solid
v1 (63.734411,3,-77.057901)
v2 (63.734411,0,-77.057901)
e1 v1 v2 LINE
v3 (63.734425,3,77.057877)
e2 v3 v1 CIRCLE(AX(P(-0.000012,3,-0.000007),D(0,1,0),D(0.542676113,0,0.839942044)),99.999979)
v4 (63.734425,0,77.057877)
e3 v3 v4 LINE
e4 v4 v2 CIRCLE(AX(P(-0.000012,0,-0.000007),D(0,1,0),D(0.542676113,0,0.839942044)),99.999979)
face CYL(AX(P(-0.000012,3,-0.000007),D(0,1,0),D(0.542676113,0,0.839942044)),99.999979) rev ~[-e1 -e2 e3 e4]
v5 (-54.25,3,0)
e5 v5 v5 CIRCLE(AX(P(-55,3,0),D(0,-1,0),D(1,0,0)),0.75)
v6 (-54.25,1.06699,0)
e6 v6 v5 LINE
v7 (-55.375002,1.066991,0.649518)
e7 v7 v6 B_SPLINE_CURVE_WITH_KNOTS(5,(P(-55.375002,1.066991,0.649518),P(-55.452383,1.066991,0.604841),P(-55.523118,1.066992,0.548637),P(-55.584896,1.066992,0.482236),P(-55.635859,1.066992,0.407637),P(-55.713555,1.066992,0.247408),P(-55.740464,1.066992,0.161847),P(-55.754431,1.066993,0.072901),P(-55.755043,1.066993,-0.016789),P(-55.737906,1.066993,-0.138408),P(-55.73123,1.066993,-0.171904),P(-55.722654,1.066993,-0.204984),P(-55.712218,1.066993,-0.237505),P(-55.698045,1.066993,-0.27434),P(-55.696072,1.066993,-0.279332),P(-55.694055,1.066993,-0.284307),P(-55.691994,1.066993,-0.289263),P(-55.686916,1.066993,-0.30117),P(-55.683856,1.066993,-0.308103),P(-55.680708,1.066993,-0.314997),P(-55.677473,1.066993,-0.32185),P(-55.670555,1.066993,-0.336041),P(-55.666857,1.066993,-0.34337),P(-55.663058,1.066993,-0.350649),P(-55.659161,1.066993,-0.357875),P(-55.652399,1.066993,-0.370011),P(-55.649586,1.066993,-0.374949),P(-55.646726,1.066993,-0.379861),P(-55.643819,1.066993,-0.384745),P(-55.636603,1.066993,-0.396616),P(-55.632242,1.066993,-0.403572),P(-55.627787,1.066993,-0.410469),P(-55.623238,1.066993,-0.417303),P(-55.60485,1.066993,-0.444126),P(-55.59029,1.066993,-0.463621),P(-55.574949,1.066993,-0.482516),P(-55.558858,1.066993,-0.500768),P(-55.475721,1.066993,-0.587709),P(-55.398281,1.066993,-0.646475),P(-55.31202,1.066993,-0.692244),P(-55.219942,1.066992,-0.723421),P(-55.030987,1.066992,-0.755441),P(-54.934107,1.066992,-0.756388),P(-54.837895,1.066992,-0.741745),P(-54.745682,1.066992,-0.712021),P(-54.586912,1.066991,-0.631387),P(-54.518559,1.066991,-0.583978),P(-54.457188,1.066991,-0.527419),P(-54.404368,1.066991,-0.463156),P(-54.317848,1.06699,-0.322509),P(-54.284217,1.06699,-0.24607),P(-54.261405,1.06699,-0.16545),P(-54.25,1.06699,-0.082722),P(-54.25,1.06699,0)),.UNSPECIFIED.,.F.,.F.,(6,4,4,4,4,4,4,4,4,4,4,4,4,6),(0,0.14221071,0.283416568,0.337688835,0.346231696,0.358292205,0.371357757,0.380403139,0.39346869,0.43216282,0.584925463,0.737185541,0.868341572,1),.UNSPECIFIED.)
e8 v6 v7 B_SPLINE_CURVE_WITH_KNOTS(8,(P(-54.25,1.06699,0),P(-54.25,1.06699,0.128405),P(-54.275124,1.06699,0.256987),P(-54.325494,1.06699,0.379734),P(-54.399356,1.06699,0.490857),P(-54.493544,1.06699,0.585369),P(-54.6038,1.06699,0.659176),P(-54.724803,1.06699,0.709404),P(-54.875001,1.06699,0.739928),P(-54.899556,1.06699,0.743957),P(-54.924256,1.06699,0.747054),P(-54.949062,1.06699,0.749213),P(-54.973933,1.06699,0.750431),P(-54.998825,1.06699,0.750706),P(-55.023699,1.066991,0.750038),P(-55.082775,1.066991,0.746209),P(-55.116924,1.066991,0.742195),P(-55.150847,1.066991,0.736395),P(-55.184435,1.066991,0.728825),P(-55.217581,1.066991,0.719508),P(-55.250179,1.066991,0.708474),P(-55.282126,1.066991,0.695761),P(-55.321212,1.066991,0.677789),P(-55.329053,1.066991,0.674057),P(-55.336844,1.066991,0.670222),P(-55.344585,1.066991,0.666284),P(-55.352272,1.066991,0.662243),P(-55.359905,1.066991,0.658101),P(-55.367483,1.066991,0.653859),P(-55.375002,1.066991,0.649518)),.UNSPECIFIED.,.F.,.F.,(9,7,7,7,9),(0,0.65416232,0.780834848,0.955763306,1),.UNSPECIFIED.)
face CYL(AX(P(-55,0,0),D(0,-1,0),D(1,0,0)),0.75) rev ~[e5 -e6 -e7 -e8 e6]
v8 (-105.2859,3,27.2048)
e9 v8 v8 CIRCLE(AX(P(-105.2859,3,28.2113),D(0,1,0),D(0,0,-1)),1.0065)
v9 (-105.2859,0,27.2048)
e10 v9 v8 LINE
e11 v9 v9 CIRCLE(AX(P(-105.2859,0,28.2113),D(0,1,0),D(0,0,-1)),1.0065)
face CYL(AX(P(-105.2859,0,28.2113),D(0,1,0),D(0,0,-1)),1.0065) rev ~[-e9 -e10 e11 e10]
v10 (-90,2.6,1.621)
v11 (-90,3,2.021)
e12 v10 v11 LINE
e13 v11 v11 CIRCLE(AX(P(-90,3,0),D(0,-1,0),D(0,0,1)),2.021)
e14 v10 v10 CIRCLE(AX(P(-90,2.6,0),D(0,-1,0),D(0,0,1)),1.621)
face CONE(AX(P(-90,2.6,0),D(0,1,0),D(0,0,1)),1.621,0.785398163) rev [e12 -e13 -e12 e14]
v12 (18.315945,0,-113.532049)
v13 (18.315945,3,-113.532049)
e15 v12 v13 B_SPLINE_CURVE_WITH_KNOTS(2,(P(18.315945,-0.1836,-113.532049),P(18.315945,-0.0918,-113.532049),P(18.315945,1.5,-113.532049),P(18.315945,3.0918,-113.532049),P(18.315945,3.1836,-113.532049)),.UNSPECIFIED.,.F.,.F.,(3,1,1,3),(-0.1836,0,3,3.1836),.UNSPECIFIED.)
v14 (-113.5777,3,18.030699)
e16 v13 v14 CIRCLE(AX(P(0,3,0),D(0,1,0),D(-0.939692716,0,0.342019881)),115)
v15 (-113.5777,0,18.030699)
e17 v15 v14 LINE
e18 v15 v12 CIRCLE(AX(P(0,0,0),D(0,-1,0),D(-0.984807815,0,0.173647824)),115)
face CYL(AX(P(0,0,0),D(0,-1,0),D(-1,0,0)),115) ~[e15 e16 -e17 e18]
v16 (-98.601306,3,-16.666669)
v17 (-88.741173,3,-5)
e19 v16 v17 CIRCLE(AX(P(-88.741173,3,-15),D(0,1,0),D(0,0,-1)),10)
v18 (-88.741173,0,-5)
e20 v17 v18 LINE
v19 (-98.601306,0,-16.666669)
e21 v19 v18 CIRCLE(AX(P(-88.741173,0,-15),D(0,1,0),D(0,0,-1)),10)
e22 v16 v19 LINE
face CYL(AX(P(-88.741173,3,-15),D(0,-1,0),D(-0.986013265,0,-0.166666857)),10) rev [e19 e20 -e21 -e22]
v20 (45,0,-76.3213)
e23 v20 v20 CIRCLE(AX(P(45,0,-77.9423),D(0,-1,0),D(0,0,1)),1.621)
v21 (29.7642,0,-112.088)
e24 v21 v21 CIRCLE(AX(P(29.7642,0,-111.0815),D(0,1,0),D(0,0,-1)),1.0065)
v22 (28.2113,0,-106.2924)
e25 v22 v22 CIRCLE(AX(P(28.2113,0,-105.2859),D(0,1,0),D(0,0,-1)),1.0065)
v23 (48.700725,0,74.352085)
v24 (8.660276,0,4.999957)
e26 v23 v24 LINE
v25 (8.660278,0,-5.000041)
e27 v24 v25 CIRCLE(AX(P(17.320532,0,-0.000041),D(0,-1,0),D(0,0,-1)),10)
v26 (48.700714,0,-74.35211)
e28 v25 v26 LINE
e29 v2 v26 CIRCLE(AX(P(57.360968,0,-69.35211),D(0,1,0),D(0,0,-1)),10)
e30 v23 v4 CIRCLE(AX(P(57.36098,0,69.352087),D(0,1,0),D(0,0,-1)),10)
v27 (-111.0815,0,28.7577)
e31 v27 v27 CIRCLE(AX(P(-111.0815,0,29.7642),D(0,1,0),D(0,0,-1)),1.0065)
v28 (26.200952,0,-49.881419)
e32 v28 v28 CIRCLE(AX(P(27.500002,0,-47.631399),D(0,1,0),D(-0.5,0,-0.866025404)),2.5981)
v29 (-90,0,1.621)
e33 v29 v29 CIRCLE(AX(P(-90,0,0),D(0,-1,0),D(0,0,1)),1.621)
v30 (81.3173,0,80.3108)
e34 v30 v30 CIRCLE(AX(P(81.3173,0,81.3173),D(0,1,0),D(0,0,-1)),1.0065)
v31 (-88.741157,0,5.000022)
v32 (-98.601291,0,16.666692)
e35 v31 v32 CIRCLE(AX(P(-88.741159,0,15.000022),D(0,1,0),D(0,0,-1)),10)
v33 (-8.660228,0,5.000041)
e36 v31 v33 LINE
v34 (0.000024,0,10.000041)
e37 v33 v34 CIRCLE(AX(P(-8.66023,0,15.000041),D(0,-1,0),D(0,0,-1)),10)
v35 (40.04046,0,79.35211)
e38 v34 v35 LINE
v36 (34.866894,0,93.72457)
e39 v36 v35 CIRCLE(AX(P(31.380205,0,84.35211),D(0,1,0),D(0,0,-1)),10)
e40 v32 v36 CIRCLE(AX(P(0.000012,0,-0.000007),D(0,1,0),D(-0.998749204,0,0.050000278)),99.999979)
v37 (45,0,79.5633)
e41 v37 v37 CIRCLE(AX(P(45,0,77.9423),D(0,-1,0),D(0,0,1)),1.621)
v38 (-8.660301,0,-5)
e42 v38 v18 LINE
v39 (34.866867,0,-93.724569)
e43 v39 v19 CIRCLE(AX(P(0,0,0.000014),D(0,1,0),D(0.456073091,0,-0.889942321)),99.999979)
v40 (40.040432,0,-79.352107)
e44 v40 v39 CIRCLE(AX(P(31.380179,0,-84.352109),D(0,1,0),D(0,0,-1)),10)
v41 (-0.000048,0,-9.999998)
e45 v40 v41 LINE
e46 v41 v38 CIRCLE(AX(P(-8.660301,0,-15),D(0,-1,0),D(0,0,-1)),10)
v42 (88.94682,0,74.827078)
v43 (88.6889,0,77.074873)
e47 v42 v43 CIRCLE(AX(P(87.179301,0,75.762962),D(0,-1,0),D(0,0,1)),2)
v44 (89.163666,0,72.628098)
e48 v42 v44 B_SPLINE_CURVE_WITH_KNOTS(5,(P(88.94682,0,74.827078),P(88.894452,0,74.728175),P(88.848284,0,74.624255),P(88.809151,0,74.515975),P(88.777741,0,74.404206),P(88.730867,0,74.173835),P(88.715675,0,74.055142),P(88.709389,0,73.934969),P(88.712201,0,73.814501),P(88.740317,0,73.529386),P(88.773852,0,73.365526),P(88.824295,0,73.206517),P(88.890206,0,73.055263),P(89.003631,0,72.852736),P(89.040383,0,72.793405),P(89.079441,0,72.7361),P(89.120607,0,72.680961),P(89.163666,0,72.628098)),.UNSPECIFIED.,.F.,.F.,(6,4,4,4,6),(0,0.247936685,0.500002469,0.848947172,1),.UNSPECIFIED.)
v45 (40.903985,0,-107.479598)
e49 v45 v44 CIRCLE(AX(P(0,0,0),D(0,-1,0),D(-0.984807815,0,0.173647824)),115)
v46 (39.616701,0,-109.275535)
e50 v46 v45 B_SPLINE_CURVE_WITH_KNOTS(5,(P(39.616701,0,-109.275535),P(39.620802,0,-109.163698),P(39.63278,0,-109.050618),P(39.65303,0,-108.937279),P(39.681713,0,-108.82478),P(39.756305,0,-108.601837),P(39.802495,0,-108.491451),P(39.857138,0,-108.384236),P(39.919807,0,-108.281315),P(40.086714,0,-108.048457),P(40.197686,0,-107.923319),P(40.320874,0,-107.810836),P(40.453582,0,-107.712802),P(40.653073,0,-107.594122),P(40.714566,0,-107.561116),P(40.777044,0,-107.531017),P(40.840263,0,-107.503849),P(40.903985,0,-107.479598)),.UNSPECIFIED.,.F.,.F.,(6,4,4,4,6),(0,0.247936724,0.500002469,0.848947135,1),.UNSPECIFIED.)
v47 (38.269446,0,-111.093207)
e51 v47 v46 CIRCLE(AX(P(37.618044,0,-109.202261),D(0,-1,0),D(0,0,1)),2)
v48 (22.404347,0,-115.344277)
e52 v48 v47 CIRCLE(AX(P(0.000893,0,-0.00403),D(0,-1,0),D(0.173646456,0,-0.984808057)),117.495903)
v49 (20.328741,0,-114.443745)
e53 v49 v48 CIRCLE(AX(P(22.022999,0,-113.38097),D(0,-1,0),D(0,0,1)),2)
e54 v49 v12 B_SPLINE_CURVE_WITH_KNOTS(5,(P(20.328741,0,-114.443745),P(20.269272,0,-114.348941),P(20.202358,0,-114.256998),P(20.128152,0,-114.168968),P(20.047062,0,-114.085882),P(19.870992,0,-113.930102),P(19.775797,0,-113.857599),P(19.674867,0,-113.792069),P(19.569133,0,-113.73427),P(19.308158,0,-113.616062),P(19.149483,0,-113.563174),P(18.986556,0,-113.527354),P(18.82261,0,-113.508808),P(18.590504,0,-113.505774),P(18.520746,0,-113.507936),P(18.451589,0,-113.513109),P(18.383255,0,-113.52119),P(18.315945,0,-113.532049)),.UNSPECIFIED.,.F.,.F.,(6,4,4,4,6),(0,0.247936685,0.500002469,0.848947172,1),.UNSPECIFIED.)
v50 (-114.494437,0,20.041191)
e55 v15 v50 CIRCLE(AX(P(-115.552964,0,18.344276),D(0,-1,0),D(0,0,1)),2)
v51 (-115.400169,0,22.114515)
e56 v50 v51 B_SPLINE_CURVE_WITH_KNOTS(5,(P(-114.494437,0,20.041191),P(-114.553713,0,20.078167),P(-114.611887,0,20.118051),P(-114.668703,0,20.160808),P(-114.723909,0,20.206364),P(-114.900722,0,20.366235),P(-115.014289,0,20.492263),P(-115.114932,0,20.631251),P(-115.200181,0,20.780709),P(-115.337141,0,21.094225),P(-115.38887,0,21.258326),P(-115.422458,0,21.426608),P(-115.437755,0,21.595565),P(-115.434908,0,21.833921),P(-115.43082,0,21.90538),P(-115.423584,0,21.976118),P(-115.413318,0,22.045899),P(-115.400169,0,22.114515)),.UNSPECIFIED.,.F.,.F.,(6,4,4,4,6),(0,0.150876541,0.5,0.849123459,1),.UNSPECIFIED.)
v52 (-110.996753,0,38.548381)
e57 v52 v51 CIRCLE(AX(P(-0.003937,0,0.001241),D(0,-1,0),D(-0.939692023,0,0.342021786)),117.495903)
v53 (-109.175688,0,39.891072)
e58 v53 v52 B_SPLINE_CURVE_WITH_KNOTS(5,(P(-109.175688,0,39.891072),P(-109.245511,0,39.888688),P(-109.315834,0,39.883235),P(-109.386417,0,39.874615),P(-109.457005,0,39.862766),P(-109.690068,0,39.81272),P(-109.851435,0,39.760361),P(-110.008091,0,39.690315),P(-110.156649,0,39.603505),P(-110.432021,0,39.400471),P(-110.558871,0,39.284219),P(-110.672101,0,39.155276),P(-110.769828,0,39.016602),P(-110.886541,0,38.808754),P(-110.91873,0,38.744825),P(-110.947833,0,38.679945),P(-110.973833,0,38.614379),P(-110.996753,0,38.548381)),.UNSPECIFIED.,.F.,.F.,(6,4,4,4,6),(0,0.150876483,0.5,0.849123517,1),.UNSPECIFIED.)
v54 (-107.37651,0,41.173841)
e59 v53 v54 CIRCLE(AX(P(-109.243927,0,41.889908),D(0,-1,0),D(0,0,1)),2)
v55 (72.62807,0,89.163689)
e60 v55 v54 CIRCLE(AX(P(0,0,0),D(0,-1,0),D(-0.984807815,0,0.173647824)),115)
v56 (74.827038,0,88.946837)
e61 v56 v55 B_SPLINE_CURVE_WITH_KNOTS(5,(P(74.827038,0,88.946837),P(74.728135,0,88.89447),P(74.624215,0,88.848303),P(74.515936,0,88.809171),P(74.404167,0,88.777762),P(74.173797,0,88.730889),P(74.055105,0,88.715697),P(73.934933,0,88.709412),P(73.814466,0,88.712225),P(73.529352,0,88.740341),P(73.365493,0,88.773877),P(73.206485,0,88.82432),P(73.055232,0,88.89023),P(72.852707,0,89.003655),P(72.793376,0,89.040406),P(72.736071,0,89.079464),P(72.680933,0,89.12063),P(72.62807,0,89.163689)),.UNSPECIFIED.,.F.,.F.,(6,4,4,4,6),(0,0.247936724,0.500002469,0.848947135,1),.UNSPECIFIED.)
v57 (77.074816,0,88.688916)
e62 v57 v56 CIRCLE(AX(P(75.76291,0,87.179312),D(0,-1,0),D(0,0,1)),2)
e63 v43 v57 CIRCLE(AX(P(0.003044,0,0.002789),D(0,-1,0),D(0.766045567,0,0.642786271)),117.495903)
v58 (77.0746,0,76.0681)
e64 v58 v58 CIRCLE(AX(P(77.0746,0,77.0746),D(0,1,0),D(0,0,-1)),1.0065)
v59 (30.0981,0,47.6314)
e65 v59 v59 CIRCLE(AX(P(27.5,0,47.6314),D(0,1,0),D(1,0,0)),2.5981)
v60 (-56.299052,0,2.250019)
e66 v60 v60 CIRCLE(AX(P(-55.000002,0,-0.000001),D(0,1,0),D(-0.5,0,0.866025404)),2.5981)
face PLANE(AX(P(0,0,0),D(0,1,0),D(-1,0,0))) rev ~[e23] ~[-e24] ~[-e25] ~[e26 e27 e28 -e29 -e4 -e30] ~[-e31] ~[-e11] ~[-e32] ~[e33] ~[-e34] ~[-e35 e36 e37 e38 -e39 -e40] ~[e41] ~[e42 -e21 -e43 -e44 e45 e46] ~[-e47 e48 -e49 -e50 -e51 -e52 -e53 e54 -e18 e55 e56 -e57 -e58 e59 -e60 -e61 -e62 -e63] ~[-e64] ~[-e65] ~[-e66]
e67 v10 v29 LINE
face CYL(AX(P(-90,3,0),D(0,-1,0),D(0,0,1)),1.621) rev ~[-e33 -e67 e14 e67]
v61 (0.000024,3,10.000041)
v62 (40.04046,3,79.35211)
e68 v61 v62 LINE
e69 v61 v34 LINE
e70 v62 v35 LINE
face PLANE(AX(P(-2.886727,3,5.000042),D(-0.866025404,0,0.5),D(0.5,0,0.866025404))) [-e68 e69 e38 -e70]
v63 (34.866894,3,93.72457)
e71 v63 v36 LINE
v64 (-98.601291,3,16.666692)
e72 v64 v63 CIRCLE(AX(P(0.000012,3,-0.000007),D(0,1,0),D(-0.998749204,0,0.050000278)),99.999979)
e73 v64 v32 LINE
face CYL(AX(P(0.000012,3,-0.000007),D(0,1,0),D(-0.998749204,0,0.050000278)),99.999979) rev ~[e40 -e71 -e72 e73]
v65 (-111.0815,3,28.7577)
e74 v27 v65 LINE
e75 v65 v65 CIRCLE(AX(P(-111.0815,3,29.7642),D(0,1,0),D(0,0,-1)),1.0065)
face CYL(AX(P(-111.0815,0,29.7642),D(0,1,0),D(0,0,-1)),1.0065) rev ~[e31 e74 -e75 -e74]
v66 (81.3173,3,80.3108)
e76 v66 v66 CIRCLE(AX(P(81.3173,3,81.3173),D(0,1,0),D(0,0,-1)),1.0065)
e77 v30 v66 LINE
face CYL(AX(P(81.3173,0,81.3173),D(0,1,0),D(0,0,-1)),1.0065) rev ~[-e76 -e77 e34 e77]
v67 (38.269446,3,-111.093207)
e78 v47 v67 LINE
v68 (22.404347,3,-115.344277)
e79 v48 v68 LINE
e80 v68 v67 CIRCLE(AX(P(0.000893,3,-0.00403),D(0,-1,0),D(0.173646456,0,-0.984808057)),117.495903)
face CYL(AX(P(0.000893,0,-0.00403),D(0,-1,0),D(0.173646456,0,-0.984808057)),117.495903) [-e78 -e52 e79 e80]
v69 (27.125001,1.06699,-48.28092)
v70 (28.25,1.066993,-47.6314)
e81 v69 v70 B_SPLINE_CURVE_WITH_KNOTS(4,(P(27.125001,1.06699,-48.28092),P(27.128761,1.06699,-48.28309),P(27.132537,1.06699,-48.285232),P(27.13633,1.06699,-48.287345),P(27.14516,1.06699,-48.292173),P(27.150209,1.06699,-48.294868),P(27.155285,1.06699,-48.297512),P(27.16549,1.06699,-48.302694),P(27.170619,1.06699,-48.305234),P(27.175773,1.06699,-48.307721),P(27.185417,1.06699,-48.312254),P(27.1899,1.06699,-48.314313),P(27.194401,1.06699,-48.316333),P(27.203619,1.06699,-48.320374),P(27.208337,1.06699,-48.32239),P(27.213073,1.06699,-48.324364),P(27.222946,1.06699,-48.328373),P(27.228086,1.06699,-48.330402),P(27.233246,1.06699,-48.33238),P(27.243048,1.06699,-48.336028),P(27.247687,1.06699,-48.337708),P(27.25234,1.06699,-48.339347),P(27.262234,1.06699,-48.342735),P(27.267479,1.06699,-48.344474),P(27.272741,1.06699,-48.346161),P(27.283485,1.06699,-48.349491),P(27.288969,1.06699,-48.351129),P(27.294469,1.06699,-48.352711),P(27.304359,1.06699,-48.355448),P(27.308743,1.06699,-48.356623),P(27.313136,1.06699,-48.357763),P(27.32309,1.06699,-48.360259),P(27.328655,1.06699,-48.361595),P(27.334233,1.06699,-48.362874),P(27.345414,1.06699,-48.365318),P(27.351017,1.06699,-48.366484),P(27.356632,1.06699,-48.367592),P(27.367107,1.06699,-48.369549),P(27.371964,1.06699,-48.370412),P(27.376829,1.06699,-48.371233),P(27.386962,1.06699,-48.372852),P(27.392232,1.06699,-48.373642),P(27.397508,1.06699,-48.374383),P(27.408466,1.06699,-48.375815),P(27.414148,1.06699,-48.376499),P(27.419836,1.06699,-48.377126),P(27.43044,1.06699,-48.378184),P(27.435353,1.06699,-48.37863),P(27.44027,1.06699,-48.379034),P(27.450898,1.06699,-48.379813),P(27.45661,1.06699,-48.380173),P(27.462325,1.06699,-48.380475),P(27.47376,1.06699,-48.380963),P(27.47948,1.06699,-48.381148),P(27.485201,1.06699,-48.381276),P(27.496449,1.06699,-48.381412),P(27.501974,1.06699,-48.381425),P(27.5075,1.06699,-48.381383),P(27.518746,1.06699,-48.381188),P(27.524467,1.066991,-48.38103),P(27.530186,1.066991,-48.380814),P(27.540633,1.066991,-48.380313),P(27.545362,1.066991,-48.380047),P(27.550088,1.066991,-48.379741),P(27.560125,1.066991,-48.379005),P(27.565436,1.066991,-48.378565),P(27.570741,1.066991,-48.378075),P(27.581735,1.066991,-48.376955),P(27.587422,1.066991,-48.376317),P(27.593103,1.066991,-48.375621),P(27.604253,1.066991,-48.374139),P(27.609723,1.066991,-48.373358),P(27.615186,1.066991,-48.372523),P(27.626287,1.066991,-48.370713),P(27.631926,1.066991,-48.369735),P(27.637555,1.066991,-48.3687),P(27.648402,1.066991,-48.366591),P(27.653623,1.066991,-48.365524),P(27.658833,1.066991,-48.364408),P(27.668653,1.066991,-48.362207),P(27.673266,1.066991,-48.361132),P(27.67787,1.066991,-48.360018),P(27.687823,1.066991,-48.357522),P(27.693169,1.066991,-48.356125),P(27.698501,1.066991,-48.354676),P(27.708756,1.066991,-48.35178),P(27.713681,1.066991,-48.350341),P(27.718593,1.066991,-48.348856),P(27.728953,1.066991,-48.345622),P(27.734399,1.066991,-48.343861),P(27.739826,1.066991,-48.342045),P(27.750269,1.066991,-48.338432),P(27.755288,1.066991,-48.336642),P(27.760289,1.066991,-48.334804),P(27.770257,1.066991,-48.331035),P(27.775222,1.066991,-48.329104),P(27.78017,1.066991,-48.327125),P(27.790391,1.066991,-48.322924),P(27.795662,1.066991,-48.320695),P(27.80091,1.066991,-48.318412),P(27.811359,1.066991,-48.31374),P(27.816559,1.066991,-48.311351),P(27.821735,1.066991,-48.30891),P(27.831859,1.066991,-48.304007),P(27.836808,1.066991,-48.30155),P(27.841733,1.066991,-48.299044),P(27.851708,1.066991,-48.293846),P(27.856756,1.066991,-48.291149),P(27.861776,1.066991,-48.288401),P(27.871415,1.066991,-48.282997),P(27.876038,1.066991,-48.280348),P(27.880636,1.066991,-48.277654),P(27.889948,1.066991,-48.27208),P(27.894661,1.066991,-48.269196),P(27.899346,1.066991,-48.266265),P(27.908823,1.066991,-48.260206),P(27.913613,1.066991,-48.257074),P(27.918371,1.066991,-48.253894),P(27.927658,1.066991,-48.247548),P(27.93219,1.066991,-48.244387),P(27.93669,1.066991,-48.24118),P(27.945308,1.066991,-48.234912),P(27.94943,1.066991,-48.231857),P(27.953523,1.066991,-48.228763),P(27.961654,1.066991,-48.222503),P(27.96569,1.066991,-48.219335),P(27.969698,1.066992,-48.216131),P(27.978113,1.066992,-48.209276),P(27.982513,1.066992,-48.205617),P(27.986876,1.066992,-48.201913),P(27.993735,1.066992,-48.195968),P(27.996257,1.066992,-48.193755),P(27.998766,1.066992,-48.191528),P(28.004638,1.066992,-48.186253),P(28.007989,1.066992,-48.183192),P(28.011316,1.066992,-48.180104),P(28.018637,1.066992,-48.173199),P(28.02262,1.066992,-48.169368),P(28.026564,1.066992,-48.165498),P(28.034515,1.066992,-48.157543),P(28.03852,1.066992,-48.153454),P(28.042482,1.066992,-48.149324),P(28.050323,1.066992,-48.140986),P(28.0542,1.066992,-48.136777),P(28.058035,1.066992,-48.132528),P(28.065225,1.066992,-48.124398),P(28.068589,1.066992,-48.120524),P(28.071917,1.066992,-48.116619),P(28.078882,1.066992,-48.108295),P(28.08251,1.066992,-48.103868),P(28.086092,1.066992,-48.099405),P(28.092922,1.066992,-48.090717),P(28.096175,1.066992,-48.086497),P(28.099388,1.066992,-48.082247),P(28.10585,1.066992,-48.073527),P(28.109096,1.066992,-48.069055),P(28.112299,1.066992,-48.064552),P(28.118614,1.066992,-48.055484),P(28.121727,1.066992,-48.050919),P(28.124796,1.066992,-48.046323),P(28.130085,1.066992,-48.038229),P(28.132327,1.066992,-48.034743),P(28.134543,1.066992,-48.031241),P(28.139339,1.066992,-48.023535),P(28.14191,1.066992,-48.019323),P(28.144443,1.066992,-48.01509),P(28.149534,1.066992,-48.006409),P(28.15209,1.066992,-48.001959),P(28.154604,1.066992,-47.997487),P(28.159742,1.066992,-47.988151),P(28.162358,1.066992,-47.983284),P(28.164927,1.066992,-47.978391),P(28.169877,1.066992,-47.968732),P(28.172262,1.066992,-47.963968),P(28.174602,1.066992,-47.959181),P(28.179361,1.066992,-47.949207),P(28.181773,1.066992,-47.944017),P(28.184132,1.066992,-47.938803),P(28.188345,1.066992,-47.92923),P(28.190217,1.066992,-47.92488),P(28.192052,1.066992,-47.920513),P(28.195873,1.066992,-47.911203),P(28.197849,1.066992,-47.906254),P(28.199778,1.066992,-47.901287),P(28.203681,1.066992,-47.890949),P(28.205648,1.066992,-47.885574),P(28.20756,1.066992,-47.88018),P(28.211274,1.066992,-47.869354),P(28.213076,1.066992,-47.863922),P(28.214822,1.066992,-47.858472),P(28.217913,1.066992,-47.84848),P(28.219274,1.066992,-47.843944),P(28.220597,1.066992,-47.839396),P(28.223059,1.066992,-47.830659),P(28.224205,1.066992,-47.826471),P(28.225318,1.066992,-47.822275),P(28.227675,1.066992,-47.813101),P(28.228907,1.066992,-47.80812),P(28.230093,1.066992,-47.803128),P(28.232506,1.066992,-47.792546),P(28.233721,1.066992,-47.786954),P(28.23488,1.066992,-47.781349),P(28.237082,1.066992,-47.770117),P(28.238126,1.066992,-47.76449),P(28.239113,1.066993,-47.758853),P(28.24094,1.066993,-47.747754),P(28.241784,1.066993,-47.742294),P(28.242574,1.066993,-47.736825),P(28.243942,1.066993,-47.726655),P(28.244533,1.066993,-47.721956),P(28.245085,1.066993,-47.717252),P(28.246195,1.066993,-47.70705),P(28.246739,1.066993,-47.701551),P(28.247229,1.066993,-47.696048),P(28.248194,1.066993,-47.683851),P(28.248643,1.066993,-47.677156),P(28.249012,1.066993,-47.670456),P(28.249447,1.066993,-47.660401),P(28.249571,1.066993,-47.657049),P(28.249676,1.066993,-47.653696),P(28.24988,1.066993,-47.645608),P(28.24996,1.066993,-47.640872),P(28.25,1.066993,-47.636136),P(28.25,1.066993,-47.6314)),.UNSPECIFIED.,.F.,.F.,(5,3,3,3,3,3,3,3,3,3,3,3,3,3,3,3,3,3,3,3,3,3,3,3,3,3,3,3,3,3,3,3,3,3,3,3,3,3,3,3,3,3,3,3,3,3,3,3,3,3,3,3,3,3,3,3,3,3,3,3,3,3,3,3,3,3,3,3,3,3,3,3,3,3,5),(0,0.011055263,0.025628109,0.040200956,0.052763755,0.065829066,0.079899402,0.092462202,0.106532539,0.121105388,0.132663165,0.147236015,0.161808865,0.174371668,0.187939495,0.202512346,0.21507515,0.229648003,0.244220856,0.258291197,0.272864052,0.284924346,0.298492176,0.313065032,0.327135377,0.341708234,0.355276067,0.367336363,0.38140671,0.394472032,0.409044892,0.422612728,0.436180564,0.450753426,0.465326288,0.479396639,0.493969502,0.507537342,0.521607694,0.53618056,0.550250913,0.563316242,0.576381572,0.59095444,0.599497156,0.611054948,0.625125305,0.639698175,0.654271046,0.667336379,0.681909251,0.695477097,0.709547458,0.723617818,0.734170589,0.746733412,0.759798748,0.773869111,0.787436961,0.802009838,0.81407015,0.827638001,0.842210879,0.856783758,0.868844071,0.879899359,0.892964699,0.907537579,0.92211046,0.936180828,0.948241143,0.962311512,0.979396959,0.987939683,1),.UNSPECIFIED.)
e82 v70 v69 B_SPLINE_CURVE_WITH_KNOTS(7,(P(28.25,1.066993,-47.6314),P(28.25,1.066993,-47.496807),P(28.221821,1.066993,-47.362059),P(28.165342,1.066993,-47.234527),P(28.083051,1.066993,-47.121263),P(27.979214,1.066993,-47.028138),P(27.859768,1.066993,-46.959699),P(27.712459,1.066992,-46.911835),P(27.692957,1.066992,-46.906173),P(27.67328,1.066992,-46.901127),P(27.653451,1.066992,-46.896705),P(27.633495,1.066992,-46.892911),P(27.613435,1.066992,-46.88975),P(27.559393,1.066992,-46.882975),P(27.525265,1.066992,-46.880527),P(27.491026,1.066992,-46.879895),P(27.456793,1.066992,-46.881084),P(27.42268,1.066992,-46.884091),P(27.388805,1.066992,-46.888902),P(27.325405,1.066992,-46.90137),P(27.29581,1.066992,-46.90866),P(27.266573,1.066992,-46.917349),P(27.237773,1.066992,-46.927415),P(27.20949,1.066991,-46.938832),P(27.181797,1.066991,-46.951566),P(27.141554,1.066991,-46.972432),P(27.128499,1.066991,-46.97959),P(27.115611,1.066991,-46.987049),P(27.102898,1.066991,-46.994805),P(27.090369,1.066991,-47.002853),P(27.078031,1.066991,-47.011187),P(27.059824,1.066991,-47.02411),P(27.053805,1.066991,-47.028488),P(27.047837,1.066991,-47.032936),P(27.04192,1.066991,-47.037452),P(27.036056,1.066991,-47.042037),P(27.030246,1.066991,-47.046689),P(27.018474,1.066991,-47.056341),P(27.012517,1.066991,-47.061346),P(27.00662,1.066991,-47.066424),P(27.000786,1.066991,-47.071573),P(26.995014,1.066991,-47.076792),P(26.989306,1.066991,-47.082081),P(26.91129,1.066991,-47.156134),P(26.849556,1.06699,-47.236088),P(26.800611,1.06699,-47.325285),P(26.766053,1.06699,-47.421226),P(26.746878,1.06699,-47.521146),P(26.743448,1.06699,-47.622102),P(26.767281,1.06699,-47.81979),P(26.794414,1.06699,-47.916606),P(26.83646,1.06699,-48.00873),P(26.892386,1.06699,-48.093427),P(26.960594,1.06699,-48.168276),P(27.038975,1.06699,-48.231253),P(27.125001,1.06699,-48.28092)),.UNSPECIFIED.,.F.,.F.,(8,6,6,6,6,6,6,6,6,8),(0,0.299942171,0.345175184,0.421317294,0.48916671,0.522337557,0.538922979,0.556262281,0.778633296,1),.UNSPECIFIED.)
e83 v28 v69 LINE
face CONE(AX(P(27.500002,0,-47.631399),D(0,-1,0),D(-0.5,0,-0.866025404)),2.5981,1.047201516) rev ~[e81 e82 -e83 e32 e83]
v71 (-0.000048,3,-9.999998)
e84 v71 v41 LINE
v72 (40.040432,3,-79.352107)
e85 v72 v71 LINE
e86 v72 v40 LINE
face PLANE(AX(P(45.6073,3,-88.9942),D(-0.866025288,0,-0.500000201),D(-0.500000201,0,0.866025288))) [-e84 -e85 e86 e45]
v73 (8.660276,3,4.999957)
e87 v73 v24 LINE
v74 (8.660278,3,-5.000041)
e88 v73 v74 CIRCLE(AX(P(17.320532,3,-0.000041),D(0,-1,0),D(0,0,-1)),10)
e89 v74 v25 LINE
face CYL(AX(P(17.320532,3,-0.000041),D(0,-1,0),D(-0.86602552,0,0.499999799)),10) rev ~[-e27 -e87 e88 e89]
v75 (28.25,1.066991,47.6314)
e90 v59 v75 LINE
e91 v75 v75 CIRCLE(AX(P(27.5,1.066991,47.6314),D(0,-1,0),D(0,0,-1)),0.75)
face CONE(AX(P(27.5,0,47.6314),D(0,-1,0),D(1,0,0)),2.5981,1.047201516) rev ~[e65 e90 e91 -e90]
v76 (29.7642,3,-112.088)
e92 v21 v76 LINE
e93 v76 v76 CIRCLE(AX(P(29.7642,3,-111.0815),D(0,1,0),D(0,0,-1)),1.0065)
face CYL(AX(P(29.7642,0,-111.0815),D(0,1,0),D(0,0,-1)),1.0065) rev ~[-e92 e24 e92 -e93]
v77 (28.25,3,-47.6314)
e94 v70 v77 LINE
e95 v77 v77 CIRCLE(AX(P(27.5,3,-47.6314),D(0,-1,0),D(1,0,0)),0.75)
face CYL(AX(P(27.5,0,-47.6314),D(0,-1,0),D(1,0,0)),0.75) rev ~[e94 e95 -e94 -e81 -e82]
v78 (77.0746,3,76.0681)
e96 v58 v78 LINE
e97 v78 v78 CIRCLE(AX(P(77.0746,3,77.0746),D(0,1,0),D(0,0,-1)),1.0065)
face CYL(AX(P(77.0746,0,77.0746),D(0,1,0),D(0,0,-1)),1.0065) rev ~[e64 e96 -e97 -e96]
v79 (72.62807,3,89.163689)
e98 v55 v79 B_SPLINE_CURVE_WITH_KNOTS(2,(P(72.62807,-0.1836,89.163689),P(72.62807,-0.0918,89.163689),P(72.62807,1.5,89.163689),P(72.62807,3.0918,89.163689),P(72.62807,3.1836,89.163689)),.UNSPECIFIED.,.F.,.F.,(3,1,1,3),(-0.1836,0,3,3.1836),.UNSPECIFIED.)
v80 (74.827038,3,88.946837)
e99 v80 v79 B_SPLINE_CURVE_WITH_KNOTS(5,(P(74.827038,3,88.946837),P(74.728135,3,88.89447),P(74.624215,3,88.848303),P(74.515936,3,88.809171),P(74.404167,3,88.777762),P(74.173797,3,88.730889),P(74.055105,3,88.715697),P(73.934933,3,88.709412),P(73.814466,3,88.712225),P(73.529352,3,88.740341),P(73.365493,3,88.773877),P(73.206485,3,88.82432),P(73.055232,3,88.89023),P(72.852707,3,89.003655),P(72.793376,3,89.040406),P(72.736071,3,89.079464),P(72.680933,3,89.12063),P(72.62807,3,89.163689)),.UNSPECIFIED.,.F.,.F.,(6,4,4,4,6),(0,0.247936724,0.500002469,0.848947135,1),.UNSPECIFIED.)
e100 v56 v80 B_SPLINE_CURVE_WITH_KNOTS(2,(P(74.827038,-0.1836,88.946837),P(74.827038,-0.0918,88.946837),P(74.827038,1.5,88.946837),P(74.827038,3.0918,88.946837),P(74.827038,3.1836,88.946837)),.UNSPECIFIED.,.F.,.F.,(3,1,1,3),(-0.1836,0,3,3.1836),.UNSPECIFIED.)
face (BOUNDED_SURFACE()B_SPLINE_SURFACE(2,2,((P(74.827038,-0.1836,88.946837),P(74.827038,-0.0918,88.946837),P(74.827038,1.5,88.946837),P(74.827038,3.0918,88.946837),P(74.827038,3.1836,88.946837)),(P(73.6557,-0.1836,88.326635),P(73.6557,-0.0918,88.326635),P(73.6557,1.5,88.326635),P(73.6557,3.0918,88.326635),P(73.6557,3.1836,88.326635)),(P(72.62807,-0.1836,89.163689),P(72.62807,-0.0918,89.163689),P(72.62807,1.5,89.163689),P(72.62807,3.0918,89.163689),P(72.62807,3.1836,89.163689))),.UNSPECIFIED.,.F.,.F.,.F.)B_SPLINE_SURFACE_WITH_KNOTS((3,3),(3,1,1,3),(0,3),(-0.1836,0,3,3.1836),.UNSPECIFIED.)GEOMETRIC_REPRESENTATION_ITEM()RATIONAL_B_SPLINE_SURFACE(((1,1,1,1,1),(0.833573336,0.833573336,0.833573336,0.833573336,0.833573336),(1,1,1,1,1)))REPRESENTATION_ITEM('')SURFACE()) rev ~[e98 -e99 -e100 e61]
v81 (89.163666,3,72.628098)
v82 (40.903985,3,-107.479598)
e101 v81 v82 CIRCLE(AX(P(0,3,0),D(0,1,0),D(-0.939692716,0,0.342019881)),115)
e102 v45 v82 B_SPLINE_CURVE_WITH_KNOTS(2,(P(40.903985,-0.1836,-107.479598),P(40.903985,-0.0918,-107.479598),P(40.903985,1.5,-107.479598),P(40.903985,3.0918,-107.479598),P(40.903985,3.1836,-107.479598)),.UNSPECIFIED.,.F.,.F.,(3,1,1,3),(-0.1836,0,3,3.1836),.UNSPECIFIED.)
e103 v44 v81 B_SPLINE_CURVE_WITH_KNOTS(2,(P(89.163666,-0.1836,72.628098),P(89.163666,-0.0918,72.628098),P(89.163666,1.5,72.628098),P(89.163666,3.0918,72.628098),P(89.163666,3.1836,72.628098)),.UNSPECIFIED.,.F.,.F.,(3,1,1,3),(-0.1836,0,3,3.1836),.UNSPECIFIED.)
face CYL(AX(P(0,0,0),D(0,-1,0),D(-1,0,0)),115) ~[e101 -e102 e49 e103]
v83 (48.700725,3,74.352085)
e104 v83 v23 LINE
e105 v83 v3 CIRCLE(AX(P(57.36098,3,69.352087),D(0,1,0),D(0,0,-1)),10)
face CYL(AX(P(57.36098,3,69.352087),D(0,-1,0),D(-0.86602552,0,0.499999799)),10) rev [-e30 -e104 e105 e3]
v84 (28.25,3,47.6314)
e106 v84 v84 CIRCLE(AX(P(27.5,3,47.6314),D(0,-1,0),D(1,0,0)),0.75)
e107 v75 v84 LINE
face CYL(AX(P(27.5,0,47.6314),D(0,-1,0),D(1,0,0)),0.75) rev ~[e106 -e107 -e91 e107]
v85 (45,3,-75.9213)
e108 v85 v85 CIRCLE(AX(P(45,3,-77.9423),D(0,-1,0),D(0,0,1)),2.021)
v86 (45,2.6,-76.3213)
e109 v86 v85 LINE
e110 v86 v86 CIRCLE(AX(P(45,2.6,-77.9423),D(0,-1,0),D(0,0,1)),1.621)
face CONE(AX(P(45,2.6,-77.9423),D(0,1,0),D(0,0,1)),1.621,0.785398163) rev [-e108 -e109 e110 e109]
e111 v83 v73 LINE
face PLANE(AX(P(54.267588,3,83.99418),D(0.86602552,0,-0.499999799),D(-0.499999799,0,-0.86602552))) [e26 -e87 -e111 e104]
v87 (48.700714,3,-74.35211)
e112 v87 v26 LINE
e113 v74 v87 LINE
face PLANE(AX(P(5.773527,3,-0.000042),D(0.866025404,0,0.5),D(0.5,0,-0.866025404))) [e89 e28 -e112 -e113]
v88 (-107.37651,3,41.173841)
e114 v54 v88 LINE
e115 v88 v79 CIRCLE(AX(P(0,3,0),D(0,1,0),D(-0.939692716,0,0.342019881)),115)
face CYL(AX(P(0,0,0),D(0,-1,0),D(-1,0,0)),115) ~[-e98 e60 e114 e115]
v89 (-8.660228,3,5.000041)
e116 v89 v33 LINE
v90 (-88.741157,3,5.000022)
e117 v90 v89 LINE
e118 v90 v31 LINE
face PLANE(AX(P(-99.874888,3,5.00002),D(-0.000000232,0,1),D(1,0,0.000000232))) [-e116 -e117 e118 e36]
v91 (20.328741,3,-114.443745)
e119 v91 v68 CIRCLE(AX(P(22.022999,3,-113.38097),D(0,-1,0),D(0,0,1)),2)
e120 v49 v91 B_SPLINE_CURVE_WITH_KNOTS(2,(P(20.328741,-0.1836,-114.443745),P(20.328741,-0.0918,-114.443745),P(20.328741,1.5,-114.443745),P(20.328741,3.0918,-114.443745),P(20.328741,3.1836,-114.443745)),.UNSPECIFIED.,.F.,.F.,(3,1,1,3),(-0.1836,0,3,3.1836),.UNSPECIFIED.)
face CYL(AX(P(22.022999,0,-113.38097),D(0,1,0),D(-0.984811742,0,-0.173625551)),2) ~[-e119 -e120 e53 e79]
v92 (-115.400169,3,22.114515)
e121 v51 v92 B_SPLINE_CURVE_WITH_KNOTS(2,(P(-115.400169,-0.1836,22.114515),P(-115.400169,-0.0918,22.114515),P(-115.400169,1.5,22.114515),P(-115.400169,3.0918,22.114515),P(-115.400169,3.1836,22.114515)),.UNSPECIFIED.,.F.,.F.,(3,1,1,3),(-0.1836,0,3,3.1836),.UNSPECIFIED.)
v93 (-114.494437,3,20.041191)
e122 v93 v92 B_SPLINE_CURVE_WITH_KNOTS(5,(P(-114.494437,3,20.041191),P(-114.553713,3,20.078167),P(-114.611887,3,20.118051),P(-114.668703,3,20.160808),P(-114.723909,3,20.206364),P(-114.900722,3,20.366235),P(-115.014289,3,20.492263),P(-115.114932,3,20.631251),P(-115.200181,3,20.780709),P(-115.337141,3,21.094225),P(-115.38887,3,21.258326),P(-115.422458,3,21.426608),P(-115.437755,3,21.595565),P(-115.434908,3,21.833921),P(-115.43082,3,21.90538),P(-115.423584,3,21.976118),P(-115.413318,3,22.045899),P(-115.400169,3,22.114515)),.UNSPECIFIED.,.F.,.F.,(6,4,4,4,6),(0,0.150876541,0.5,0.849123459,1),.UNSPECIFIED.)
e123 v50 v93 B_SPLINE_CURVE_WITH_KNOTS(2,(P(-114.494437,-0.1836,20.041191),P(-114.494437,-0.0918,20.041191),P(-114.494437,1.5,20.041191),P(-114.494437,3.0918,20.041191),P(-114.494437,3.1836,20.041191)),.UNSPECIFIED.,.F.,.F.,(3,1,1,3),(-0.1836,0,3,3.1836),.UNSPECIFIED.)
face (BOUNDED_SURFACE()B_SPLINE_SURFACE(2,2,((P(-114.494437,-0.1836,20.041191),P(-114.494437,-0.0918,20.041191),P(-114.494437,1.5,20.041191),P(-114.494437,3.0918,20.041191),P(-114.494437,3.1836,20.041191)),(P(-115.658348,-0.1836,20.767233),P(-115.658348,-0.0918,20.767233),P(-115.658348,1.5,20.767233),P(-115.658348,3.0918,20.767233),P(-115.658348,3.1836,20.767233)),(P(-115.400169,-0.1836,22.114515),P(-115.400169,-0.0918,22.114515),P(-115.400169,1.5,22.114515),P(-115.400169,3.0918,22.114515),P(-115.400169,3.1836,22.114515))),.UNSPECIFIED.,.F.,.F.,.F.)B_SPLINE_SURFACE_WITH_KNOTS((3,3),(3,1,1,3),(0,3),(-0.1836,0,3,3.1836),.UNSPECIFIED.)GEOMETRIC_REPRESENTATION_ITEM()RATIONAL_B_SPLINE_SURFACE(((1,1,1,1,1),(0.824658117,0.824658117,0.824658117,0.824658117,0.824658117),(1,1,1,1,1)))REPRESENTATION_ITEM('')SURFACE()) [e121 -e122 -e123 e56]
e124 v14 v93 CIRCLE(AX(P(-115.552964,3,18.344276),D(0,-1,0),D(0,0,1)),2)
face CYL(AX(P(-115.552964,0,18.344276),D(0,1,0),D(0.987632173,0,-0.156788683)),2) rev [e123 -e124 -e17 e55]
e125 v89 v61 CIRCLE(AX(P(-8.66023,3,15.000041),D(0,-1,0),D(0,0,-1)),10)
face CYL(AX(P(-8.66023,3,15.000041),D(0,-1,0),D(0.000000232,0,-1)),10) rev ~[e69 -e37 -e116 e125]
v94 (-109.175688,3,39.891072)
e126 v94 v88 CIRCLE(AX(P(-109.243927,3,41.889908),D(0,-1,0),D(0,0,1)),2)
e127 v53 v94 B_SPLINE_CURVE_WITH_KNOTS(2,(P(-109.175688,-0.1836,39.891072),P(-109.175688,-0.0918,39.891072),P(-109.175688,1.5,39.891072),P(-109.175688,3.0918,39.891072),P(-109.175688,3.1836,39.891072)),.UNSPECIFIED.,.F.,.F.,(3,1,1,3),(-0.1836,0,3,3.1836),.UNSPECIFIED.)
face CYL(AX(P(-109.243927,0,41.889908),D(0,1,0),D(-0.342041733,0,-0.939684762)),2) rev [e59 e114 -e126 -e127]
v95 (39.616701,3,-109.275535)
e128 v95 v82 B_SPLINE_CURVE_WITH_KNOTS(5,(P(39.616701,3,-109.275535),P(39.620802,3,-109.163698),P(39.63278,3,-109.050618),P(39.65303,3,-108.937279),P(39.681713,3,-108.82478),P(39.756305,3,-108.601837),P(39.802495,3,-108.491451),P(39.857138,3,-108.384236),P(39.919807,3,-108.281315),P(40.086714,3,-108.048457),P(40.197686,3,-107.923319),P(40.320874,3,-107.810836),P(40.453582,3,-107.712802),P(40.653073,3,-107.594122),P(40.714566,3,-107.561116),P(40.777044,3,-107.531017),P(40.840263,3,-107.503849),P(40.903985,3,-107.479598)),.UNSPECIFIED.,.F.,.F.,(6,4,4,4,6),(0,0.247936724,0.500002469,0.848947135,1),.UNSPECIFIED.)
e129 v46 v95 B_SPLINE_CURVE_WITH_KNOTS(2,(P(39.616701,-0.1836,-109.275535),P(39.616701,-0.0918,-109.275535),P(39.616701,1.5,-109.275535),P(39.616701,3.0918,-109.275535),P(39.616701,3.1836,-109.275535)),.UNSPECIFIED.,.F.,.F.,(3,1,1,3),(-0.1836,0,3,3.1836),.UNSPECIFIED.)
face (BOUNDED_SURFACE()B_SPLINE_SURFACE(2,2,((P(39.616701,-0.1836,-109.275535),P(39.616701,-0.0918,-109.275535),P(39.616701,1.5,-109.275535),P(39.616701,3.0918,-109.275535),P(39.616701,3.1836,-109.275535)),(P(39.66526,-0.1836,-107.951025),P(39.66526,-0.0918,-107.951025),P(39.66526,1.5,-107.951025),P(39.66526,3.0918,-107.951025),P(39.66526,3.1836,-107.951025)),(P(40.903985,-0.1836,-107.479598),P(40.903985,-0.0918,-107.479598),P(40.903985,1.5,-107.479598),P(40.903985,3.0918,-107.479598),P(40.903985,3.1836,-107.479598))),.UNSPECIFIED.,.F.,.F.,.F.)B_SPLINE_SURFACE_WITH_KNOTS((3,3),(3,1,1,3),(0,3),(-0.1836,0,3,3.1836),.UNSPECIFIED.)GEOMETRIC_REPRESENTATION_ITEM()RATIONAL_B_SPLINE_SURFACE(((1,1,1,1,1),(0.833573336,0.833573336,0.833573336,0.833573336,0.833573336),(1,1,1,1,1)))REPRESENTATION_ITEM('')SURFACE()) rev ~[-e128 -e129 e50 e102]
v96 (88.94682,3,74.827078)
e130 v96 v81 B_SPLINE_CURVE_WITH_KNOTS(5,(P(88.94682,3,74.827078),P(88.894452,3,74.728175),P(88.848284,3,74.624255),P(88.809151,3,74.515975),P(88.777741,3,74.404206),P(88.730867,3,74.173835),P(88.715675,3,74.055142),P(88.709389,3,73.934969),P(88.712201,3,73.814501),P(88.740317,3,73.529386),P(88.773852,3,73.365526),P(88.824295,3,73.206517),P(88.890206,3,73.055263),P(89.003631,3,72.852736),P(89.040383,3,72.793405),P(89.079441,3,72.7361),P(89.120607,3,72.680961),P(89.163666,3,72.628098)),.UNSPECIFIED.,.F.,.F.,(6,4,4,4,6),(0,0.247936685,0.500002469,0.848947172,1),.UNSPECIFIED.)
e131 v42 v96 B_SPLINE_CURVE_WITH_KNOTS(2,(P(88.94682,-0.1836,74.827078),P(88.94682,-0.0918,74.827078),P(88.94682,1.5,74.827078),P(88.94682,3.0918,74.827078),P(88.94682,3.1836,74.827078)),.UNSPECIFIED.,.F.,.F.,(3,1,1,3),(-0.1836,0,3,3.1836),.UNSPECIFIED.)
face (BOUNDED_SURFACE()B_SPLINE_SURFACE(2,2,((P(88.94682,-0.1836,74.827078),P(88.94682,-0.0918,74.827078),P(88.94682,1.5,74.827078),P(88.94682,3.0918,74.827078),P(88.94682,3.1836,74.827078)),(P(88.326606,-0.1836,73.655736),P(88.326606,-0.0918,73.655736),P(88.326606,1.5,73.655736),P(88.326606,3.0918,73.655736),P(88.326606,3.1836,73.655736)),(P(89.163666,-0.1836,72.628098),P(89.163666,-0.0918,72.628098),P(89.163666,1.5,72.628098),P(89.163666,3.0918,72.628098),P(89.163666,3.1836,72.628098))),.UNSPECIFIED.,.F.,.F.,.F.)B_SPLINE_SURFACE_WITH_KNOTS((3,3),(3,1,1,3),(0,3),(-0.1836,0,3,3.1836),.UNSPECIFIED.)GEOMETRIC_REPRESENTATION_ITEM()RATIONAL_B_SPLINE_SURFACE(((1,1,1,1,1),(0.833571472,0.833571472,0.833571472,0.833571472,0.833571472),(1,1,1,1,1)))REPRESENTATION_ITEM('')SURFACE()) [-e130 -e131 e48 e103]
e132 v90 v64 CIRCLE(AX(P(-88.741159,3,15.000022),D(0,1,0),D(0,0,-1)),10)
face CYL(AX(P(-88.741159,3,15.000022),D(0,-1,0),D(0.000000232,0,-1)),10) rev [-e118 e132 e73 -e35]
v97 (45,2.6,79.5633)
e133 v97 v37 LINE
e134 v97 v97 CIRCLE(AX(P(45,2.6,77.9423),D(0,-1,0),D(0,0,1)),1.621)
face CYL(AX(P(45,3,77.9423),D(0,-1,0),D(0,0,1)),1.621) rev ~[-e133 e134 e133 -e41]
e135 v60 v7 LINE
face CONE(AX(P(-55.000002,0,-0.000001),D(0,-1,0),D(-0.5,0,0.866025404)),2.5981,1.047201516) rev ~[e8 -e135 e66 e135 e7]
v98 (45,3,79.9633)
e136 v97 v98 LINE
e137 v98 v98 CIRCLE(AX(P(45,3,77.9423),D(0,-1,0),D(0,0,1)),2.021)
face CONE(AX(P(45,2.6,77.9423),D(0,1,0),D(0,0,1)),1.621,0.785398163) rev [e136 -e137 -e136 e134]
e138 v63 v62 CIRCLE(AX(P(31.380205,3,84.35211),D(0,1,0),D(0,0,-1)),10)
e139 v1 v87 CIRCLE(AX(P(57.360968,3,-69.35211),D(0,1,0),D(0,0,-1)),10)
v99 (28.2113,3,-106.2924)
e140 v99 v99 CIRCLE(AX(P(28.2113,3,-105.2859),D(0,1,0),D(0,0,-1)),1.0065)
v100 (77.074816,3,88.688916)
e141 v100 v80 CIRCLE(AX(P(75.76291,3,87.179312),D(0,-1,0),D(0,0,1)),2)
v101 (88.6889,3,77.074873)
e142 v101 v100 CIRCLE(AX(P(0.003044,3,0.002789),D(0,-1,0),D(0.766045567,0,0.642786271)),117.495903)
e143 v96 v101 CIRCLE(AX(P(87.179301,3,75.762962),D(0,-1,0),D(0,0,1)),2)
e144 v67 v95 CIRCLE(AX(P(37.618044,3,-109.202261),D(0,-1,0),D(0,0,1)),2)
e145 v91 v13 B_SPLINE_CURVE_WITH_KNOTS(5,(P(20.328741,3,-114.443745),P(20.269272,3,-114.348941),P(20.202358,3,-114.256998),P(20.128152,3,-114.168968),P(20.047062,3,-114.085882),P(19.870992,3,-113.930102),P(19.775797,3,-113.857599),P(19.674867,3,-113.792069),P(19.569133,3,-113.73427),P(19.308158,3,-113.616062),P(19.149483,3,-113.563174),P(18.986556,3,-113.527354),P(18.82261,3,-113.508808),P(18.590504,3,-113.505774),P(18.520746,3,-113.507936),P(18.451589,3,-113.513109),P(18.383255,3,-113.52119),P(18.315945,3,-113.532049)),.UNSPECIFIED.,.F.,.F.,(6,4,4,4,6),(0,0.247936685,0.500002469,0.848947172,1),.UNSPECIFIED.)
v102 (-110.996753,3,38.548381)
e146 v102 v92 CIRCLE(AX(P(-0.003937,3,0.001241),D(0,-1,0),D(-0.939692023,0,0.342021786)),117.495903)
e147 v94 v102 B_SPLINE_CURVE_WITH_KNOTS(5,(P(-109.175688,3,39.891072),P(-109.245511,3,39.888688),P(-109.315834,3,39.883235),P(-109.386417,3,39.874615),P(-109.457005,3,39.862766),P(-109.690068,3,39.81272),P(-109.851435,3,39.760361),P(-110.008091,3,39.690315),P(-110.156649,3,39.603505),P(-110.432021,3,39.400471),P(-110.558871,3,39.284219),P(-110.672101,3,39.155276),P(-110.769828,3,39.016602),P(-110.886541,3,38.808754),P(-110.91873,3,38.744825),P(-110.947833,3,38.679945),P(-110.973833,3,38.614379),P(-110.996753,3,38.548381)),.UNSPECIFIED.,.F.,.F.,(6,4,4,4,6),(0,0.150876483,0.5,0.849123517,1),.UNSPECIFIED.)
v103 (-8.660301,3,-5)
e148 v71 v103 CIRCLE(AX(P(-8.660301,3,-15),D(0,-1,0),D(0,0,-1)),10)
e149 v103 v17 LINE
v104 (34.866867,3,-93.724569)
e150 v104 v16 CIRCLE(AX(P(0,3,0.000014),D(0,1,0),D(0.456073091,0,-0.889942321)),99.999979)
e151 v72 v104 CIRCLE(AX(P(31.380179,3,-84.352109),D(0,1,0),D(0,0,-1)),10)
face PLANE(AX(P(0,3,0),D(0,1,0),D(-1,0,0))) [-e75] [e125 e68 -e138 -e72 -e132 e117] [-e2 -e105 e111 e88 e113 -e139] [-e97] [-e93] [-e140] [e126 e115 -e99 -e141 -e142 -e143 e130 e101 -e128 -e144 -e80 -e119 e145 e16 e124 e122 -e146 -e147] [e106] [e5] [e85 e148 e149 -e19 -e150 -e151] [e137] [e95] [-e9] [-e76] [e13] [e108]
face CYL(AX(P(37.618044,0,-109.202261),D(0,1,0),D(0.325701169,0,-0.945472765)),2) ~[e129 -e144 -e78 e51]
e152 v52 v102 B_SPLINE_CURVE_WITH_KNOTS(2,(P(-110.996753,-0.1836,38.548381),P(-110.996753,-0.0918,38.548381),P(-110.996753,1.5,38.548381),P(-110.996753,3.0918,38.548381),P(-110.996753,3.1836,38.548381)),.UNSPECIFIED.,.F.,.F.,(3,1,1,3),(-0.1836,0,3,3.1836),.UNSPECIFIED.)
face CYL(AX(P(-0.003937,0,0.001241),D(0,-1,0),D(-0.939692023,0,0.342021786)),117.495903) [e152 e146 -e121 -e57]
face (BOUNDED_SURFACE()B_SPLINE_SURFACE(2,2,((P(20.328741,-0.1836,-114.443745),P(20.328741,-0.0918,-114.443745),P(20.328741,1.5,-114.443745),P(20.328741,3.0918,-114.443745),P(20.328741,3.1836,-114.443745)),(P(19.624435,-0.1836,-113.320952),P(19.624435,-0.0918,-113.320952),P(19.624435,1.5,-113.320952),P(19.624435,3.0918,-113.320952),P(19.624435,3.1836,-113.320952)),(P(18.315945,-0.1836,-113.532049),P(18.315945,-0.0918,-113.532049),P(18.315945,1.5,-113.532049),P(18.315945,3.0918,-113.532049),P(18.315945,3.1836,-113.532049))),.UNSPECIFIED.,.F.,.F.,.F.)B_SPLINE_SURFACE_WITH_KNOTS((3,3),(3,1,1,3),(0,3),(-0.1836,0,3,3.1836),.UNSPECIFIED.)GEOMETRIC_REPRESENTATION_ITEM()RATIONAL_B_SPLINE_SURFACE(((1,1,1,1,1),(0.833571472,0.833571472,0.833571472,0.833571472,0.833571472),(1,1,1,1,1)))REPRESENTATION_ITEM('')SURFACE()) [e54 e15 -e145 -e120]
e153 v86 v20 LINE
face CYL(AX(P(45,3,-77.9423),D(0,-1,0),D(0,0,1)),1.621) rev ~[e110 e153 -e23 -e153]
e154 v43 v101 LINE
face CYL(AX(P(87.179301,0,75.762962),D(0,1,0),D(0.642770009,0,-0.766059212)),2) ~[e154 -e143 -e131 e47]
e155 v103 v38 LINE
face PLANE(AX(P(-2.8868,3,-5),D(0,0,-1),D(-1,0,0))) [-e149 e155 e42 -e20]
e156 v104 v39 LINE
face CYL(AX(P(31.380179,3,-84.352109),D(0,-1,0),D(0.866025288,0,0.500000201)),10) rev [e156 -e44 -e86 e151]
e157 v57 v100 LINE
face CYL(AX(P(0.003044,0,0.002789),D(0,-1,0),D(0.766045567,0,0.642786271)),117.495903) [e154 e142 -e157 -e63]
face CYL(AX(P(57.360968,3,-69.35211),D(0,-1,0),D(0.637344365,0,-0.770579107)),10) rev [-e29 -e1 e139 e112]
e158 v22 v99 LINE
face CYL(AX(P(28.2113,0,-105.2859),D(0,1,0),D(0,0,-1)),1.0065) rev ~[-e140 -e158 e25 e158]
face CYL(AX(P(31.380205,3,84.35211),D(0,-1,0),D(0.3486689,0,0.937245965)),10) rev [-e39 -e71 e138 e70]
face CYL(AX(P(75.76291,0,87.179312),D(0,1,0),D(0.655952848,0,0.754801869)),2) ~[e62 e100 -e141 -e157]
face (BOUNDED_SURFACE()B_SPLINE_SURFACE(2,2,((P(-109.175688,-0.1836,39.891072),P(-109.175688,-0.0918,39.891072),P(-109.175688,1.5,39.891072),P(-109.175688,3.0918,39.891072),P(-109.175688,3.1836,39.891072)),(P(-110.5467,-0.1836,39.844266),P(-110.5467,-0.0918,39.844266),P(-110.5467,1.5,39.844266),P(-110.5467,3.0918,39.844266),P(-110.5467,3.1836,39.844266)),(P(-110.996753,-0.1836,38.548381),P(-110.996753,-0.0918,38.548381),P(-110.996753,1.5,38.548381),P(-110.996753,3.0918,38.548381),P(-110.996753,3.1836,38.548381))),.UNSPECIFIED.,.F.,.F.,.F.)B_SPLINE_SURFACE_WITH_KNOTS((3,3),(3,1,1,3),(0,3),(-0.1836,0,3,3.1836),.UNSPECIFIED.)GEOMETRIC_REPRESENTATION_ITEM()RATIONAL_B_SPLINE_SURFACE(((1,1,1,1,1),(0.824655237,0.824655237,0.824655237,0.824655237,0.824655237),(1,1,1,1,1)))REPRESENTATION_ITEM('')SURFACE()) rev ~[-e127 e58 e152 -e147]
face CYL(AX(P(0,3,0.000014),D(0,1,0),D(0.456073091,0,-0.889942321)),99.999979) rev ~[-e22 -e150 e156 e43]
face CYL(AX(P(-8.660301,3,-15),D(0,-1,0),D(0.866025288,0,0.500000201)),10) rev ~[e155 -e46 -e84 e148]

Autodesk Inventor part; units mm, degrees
ref_plane "YZ Plane" through (0, 0, 0) normal (1, 0, 0) x (0, 1, 0)
ref_plane "XZ Plane" through (0, 0, 0) normal (0, 1, 0) x (-1, 0, 0)
sketch "Szkic1" plane through (0, 0, 0) normal (0, 1, 0) x (-1, 0, 0)
  circle A0 centre (0, 0) radius 115
  circle A1 centre (0, 0) radius 94.4395
  dimension "d52" = 230
extrude "Wyciągnięcie proste1" add sketch "Szkic1" along normal blind 3 contours A0 | A1
sketch "Szkic2" plane through (0, 3, 0) normal (0, 1, 0) x (1, 0, 0)
  line L0 (-2.8868, 5) -> (-99.8749, 5)
  line L1 (-99.8749, -5) -> (-2.8868, -5)
  line L2 (-2.8868, -5) -> (45.6073, -88.9942)
  line L3 (54.2676, -83.9942) -> (5.7735, 0)
  line L4 (5.7735, 0) -> (54.2676, 83.9942)
  line L5 (45.6073, 88.9942) -> (-2.8868, 5)
  arc A0 (45.6073, 88.9942) -> (-99.8749, 5) centre (0, 0) ccw
  arc A1 (-99.8749, -5) -> (45.6073, -88.9942) centre (0, 0) ccw
  arc A2 (54.2676, -83.9942) -> (54.2676, 83.9942) centre (0, 0) ccw
  arc A3 (45.6073, 88.9942) -> (-99.8749, 5) centre (0, 0) ccw
  line L6 (-99.8749, 5) -> (-2.8868, 5)
  line L7 (45.6073, 88.9942) -> (-2.8868, 5)
  dimension "d12" = 10
  dimension "d13" = 5
  dimension "d20" = 360
  dimension "d22" = 100
extrude "Wyciągnięcie proste2" cut sketch "Szkic2" against normal blind 3 contours L0 A0 L5
pattern_circular "Szyk kołowy1" count 3 over 360 about axis through (0, 3, 0) along (0, 1, 0) of "Wyciągnięcie proste2"
sketch "Szkic3" plane through (0, 3, 0) normal (0, 1, 0) x (1, 0, 0)
  line L0 (5.7735, 0) -> (54.2676, 83.9942) projected
  circle A0 centre (0, 0) radius 90
  point P0 (45, 77.9423)
  point P1 (-90, 0)
  point P2 (45, -77.9423)
  dimension "d54" = 180
  dimension "d83" = 360
sketch "Szkic4" plane through (0, 0, 0) normal (0, -1, 0) x (1, 0, 0)
  line L0 (5.7735, 0) -> (54.2676, 83.9942) projected
  circle A0 centre (27.5, 47.6314) radius 0.75
  circle A1 centre (-55, 0) radius 0.75
  circle A2 centre (27.5, -47.6314) radius 0.75
  point P0 (0, 0)
  dimension "d44" = 5
  dimension "d45" = 1.5
  dimension "d48" = 360
extrude "Wyciągnięcie proste4" cut sketch "Szkic4" against normal blind 10
fillet "Zaokrąglenie1" radius 10 9 edges at (5.7735, 1.5, 0) (-2.8868, 1.5, -5) (-2.8868, 1.5, 5) (-99.8749, 1.5, 5) (-99.8749, 1.5, -5) (54.2676, 1.5, 83.9942) (45.6073, 1.5, 88.9942) (45.6073, 1.5, -88.9942) (54.2676, 1.5, -83.9942)
sketch "Szkic5" plane through (0, 0, 0) normal (0, -1, 0) x (1, 0, 0)
  circle A0 centre (27.5, 47.6314) radius 0.75 projected
  line L0 (28.25, 47.6314) -> (28.25, 50.8241)
  point P0 (0, 0)
  dimension "d56" = 0
  dimension "d59" = 0.75
ref_plane "Płaszczyzna konstrukcyjna1" through (28.25, 0, 47.6314) normal (0, 0, 1) x (1, 0, 0)
sketch "Szkic7" plane through (0, 0, 0) normal (0, -1, 0) x (1, 0, 0)
  point P0 (0, 0)
sketch "Szkic8" plane through (28.25, 0, 47.6314) normal (0, 0, 1) x (1, 0, 0)
  line L0 (0, 0) -> (-1.5, 0) projected
  line L1 (-0.75, 1.5) -> (-0.75, 0)
  line L2 (-0.75, 0) -> (1.8481, 0)
  line L3 (1.8481, 0) -> (-0.75, 1.5)
  line L4 (-0.75, -0.6) -> (-0.75, 3.6) projected
  point P0 (-28.25, 0)
  dimension "d61" = 1.5
  dimension "d62" = 60
revolve "Obrót1" cut sketch "Szkic8" angle 360 about axis through (27.5, 0, 47.6314) along (0, 1, 0)
pattern_circular "Szyk kołowy2" count 3 over 360 about axis through (0, 3, 0) along (0, 1, 0) of "Obrót1"
sketch "Szkic10" plane through (0, 0, 0) normal (0, -1, 0) x (1, 0, 0)
  line L0 (0, 0) -> (-84.2181, 0)
  circle A0 centre (0, 0) radius 115 projected
  line L1 (0, 0) -> (-150.0694, 40.211)
  circle A1 centre (0, 0) radius 115
  circle A2 centre (0, 0) radius 109
  point P0 (29.2466, -109.1496)
  point P1 (27.6936, -103.3541)
  point P2 (79.9031, 79.9031)
  point P3 (75.6604, 75.6604)
  point P4 (-111.0815, 29.7642)
  point P5 (-105.2859, 28.2113)
  point P6 (28.2113, -105.2859)
  point P7 (29.7642, -111.0815)
  point P8 (77.0746, 77.0746)
  point P9 (81.3173, 81.3173)
  dimension "d72" = 230
  dimension "d73" = 218
  dimension "d71" = 15
  dimension "d111" = 360
hole "Otwór1" at (45, 3, -77.9423) at (-90, 3, 0) at (45, 3, 77.9423) direction (0, -1, 0) diameter 3.242 end through all thread size "M4x0.7" class "6H" standard "ISO Metric profile"
chamfer "Faza1" distance 0.4 angle 45 3 edges at (45, 3, -79.5633) (-90, 3, -1.621) (45, 3, 76.3213)
sketch "Szkic11" plane through (0, 0, 0) normal (0, -1, 0) x (1, 0, 0)
  arc A0 (-115, 0) -> (-115, 0) centre (0, 0) ccw projected
  arc A1 (-115, 0) -> (-115, 0) centre (0, 0) ccw projected
  circle A2 centre (-90, 0) radius 1.621 projected
  line L0 (0, 0) -> (-90, 0)
  line L1 (-108.0647, 39.3323) -> (-110.4139, 40.1874)
  line L2 (-113.2529, 19.9695) -> (-115.7149, 20.4037)
  arc A3 (-110.4139, 40.1874) -> (-115.7149, 20.4037) centre (0, 0) ccw
  line L3 (-113.2529, 19.9695) -> (-108.0647, 39.3323)
  line L4 (-110.4139, 40.1874) -> (-115.7149, 20.4037)
  dimension "d120" = 20
  dimension "d121" = 10
  dimension "d122" = 235
extrude "Wyciągnięcie proste6" add sketch "Szkic11" against normal blind 3 contours L3 A0 | A0 L2 L4 L1 | L4 A3 picked at (-110.4955, 30.7614)
pattern_circular "Szyk kołowy4" count 3 over 360 about axis through (0, 3, 0) along (0, 1, 0) of "Wyciągnięcie proste6"
hole "Otwór4" at (-111.0815, 0, 29.7642) at (-105.2859, 0, 28.2113) at (81.3173, 0, 81.3173) at (77.0746, 0, 77.0746) at (28.2113, 0, -105.2859) at (29.7642, 0, -111.0815) direction (0, 1, 0) diameter 2.013 depth 7.6 tip angle 118 thread size "M2.5x0.45" class "6H" standard "ISO Metric profile"
fillet "Zaokrąglenie2" radius 2 12 edges at (-113.2529, 1.5, 19.9695) (-115.7149, 1.5, 20.4037) (-108.0647, 1.5, 39.3323) (-110.4139, 1.5, 40.1874) (20.4037, 1.5, -115.7149) (19.9695, 1.5, -113.2529) (40.1874, 1.5, -110.4139) (39.3323, 1.5, -108.0647) (90.0102, 1.5, 75.5275) (88.0951, 1.5, 73.9206) (75.5275, 1.5, 90.0102) (73.9206, 1.5, 88.0951)
properties part number "PrimaryMirror" material "Stal nierdzewna"
